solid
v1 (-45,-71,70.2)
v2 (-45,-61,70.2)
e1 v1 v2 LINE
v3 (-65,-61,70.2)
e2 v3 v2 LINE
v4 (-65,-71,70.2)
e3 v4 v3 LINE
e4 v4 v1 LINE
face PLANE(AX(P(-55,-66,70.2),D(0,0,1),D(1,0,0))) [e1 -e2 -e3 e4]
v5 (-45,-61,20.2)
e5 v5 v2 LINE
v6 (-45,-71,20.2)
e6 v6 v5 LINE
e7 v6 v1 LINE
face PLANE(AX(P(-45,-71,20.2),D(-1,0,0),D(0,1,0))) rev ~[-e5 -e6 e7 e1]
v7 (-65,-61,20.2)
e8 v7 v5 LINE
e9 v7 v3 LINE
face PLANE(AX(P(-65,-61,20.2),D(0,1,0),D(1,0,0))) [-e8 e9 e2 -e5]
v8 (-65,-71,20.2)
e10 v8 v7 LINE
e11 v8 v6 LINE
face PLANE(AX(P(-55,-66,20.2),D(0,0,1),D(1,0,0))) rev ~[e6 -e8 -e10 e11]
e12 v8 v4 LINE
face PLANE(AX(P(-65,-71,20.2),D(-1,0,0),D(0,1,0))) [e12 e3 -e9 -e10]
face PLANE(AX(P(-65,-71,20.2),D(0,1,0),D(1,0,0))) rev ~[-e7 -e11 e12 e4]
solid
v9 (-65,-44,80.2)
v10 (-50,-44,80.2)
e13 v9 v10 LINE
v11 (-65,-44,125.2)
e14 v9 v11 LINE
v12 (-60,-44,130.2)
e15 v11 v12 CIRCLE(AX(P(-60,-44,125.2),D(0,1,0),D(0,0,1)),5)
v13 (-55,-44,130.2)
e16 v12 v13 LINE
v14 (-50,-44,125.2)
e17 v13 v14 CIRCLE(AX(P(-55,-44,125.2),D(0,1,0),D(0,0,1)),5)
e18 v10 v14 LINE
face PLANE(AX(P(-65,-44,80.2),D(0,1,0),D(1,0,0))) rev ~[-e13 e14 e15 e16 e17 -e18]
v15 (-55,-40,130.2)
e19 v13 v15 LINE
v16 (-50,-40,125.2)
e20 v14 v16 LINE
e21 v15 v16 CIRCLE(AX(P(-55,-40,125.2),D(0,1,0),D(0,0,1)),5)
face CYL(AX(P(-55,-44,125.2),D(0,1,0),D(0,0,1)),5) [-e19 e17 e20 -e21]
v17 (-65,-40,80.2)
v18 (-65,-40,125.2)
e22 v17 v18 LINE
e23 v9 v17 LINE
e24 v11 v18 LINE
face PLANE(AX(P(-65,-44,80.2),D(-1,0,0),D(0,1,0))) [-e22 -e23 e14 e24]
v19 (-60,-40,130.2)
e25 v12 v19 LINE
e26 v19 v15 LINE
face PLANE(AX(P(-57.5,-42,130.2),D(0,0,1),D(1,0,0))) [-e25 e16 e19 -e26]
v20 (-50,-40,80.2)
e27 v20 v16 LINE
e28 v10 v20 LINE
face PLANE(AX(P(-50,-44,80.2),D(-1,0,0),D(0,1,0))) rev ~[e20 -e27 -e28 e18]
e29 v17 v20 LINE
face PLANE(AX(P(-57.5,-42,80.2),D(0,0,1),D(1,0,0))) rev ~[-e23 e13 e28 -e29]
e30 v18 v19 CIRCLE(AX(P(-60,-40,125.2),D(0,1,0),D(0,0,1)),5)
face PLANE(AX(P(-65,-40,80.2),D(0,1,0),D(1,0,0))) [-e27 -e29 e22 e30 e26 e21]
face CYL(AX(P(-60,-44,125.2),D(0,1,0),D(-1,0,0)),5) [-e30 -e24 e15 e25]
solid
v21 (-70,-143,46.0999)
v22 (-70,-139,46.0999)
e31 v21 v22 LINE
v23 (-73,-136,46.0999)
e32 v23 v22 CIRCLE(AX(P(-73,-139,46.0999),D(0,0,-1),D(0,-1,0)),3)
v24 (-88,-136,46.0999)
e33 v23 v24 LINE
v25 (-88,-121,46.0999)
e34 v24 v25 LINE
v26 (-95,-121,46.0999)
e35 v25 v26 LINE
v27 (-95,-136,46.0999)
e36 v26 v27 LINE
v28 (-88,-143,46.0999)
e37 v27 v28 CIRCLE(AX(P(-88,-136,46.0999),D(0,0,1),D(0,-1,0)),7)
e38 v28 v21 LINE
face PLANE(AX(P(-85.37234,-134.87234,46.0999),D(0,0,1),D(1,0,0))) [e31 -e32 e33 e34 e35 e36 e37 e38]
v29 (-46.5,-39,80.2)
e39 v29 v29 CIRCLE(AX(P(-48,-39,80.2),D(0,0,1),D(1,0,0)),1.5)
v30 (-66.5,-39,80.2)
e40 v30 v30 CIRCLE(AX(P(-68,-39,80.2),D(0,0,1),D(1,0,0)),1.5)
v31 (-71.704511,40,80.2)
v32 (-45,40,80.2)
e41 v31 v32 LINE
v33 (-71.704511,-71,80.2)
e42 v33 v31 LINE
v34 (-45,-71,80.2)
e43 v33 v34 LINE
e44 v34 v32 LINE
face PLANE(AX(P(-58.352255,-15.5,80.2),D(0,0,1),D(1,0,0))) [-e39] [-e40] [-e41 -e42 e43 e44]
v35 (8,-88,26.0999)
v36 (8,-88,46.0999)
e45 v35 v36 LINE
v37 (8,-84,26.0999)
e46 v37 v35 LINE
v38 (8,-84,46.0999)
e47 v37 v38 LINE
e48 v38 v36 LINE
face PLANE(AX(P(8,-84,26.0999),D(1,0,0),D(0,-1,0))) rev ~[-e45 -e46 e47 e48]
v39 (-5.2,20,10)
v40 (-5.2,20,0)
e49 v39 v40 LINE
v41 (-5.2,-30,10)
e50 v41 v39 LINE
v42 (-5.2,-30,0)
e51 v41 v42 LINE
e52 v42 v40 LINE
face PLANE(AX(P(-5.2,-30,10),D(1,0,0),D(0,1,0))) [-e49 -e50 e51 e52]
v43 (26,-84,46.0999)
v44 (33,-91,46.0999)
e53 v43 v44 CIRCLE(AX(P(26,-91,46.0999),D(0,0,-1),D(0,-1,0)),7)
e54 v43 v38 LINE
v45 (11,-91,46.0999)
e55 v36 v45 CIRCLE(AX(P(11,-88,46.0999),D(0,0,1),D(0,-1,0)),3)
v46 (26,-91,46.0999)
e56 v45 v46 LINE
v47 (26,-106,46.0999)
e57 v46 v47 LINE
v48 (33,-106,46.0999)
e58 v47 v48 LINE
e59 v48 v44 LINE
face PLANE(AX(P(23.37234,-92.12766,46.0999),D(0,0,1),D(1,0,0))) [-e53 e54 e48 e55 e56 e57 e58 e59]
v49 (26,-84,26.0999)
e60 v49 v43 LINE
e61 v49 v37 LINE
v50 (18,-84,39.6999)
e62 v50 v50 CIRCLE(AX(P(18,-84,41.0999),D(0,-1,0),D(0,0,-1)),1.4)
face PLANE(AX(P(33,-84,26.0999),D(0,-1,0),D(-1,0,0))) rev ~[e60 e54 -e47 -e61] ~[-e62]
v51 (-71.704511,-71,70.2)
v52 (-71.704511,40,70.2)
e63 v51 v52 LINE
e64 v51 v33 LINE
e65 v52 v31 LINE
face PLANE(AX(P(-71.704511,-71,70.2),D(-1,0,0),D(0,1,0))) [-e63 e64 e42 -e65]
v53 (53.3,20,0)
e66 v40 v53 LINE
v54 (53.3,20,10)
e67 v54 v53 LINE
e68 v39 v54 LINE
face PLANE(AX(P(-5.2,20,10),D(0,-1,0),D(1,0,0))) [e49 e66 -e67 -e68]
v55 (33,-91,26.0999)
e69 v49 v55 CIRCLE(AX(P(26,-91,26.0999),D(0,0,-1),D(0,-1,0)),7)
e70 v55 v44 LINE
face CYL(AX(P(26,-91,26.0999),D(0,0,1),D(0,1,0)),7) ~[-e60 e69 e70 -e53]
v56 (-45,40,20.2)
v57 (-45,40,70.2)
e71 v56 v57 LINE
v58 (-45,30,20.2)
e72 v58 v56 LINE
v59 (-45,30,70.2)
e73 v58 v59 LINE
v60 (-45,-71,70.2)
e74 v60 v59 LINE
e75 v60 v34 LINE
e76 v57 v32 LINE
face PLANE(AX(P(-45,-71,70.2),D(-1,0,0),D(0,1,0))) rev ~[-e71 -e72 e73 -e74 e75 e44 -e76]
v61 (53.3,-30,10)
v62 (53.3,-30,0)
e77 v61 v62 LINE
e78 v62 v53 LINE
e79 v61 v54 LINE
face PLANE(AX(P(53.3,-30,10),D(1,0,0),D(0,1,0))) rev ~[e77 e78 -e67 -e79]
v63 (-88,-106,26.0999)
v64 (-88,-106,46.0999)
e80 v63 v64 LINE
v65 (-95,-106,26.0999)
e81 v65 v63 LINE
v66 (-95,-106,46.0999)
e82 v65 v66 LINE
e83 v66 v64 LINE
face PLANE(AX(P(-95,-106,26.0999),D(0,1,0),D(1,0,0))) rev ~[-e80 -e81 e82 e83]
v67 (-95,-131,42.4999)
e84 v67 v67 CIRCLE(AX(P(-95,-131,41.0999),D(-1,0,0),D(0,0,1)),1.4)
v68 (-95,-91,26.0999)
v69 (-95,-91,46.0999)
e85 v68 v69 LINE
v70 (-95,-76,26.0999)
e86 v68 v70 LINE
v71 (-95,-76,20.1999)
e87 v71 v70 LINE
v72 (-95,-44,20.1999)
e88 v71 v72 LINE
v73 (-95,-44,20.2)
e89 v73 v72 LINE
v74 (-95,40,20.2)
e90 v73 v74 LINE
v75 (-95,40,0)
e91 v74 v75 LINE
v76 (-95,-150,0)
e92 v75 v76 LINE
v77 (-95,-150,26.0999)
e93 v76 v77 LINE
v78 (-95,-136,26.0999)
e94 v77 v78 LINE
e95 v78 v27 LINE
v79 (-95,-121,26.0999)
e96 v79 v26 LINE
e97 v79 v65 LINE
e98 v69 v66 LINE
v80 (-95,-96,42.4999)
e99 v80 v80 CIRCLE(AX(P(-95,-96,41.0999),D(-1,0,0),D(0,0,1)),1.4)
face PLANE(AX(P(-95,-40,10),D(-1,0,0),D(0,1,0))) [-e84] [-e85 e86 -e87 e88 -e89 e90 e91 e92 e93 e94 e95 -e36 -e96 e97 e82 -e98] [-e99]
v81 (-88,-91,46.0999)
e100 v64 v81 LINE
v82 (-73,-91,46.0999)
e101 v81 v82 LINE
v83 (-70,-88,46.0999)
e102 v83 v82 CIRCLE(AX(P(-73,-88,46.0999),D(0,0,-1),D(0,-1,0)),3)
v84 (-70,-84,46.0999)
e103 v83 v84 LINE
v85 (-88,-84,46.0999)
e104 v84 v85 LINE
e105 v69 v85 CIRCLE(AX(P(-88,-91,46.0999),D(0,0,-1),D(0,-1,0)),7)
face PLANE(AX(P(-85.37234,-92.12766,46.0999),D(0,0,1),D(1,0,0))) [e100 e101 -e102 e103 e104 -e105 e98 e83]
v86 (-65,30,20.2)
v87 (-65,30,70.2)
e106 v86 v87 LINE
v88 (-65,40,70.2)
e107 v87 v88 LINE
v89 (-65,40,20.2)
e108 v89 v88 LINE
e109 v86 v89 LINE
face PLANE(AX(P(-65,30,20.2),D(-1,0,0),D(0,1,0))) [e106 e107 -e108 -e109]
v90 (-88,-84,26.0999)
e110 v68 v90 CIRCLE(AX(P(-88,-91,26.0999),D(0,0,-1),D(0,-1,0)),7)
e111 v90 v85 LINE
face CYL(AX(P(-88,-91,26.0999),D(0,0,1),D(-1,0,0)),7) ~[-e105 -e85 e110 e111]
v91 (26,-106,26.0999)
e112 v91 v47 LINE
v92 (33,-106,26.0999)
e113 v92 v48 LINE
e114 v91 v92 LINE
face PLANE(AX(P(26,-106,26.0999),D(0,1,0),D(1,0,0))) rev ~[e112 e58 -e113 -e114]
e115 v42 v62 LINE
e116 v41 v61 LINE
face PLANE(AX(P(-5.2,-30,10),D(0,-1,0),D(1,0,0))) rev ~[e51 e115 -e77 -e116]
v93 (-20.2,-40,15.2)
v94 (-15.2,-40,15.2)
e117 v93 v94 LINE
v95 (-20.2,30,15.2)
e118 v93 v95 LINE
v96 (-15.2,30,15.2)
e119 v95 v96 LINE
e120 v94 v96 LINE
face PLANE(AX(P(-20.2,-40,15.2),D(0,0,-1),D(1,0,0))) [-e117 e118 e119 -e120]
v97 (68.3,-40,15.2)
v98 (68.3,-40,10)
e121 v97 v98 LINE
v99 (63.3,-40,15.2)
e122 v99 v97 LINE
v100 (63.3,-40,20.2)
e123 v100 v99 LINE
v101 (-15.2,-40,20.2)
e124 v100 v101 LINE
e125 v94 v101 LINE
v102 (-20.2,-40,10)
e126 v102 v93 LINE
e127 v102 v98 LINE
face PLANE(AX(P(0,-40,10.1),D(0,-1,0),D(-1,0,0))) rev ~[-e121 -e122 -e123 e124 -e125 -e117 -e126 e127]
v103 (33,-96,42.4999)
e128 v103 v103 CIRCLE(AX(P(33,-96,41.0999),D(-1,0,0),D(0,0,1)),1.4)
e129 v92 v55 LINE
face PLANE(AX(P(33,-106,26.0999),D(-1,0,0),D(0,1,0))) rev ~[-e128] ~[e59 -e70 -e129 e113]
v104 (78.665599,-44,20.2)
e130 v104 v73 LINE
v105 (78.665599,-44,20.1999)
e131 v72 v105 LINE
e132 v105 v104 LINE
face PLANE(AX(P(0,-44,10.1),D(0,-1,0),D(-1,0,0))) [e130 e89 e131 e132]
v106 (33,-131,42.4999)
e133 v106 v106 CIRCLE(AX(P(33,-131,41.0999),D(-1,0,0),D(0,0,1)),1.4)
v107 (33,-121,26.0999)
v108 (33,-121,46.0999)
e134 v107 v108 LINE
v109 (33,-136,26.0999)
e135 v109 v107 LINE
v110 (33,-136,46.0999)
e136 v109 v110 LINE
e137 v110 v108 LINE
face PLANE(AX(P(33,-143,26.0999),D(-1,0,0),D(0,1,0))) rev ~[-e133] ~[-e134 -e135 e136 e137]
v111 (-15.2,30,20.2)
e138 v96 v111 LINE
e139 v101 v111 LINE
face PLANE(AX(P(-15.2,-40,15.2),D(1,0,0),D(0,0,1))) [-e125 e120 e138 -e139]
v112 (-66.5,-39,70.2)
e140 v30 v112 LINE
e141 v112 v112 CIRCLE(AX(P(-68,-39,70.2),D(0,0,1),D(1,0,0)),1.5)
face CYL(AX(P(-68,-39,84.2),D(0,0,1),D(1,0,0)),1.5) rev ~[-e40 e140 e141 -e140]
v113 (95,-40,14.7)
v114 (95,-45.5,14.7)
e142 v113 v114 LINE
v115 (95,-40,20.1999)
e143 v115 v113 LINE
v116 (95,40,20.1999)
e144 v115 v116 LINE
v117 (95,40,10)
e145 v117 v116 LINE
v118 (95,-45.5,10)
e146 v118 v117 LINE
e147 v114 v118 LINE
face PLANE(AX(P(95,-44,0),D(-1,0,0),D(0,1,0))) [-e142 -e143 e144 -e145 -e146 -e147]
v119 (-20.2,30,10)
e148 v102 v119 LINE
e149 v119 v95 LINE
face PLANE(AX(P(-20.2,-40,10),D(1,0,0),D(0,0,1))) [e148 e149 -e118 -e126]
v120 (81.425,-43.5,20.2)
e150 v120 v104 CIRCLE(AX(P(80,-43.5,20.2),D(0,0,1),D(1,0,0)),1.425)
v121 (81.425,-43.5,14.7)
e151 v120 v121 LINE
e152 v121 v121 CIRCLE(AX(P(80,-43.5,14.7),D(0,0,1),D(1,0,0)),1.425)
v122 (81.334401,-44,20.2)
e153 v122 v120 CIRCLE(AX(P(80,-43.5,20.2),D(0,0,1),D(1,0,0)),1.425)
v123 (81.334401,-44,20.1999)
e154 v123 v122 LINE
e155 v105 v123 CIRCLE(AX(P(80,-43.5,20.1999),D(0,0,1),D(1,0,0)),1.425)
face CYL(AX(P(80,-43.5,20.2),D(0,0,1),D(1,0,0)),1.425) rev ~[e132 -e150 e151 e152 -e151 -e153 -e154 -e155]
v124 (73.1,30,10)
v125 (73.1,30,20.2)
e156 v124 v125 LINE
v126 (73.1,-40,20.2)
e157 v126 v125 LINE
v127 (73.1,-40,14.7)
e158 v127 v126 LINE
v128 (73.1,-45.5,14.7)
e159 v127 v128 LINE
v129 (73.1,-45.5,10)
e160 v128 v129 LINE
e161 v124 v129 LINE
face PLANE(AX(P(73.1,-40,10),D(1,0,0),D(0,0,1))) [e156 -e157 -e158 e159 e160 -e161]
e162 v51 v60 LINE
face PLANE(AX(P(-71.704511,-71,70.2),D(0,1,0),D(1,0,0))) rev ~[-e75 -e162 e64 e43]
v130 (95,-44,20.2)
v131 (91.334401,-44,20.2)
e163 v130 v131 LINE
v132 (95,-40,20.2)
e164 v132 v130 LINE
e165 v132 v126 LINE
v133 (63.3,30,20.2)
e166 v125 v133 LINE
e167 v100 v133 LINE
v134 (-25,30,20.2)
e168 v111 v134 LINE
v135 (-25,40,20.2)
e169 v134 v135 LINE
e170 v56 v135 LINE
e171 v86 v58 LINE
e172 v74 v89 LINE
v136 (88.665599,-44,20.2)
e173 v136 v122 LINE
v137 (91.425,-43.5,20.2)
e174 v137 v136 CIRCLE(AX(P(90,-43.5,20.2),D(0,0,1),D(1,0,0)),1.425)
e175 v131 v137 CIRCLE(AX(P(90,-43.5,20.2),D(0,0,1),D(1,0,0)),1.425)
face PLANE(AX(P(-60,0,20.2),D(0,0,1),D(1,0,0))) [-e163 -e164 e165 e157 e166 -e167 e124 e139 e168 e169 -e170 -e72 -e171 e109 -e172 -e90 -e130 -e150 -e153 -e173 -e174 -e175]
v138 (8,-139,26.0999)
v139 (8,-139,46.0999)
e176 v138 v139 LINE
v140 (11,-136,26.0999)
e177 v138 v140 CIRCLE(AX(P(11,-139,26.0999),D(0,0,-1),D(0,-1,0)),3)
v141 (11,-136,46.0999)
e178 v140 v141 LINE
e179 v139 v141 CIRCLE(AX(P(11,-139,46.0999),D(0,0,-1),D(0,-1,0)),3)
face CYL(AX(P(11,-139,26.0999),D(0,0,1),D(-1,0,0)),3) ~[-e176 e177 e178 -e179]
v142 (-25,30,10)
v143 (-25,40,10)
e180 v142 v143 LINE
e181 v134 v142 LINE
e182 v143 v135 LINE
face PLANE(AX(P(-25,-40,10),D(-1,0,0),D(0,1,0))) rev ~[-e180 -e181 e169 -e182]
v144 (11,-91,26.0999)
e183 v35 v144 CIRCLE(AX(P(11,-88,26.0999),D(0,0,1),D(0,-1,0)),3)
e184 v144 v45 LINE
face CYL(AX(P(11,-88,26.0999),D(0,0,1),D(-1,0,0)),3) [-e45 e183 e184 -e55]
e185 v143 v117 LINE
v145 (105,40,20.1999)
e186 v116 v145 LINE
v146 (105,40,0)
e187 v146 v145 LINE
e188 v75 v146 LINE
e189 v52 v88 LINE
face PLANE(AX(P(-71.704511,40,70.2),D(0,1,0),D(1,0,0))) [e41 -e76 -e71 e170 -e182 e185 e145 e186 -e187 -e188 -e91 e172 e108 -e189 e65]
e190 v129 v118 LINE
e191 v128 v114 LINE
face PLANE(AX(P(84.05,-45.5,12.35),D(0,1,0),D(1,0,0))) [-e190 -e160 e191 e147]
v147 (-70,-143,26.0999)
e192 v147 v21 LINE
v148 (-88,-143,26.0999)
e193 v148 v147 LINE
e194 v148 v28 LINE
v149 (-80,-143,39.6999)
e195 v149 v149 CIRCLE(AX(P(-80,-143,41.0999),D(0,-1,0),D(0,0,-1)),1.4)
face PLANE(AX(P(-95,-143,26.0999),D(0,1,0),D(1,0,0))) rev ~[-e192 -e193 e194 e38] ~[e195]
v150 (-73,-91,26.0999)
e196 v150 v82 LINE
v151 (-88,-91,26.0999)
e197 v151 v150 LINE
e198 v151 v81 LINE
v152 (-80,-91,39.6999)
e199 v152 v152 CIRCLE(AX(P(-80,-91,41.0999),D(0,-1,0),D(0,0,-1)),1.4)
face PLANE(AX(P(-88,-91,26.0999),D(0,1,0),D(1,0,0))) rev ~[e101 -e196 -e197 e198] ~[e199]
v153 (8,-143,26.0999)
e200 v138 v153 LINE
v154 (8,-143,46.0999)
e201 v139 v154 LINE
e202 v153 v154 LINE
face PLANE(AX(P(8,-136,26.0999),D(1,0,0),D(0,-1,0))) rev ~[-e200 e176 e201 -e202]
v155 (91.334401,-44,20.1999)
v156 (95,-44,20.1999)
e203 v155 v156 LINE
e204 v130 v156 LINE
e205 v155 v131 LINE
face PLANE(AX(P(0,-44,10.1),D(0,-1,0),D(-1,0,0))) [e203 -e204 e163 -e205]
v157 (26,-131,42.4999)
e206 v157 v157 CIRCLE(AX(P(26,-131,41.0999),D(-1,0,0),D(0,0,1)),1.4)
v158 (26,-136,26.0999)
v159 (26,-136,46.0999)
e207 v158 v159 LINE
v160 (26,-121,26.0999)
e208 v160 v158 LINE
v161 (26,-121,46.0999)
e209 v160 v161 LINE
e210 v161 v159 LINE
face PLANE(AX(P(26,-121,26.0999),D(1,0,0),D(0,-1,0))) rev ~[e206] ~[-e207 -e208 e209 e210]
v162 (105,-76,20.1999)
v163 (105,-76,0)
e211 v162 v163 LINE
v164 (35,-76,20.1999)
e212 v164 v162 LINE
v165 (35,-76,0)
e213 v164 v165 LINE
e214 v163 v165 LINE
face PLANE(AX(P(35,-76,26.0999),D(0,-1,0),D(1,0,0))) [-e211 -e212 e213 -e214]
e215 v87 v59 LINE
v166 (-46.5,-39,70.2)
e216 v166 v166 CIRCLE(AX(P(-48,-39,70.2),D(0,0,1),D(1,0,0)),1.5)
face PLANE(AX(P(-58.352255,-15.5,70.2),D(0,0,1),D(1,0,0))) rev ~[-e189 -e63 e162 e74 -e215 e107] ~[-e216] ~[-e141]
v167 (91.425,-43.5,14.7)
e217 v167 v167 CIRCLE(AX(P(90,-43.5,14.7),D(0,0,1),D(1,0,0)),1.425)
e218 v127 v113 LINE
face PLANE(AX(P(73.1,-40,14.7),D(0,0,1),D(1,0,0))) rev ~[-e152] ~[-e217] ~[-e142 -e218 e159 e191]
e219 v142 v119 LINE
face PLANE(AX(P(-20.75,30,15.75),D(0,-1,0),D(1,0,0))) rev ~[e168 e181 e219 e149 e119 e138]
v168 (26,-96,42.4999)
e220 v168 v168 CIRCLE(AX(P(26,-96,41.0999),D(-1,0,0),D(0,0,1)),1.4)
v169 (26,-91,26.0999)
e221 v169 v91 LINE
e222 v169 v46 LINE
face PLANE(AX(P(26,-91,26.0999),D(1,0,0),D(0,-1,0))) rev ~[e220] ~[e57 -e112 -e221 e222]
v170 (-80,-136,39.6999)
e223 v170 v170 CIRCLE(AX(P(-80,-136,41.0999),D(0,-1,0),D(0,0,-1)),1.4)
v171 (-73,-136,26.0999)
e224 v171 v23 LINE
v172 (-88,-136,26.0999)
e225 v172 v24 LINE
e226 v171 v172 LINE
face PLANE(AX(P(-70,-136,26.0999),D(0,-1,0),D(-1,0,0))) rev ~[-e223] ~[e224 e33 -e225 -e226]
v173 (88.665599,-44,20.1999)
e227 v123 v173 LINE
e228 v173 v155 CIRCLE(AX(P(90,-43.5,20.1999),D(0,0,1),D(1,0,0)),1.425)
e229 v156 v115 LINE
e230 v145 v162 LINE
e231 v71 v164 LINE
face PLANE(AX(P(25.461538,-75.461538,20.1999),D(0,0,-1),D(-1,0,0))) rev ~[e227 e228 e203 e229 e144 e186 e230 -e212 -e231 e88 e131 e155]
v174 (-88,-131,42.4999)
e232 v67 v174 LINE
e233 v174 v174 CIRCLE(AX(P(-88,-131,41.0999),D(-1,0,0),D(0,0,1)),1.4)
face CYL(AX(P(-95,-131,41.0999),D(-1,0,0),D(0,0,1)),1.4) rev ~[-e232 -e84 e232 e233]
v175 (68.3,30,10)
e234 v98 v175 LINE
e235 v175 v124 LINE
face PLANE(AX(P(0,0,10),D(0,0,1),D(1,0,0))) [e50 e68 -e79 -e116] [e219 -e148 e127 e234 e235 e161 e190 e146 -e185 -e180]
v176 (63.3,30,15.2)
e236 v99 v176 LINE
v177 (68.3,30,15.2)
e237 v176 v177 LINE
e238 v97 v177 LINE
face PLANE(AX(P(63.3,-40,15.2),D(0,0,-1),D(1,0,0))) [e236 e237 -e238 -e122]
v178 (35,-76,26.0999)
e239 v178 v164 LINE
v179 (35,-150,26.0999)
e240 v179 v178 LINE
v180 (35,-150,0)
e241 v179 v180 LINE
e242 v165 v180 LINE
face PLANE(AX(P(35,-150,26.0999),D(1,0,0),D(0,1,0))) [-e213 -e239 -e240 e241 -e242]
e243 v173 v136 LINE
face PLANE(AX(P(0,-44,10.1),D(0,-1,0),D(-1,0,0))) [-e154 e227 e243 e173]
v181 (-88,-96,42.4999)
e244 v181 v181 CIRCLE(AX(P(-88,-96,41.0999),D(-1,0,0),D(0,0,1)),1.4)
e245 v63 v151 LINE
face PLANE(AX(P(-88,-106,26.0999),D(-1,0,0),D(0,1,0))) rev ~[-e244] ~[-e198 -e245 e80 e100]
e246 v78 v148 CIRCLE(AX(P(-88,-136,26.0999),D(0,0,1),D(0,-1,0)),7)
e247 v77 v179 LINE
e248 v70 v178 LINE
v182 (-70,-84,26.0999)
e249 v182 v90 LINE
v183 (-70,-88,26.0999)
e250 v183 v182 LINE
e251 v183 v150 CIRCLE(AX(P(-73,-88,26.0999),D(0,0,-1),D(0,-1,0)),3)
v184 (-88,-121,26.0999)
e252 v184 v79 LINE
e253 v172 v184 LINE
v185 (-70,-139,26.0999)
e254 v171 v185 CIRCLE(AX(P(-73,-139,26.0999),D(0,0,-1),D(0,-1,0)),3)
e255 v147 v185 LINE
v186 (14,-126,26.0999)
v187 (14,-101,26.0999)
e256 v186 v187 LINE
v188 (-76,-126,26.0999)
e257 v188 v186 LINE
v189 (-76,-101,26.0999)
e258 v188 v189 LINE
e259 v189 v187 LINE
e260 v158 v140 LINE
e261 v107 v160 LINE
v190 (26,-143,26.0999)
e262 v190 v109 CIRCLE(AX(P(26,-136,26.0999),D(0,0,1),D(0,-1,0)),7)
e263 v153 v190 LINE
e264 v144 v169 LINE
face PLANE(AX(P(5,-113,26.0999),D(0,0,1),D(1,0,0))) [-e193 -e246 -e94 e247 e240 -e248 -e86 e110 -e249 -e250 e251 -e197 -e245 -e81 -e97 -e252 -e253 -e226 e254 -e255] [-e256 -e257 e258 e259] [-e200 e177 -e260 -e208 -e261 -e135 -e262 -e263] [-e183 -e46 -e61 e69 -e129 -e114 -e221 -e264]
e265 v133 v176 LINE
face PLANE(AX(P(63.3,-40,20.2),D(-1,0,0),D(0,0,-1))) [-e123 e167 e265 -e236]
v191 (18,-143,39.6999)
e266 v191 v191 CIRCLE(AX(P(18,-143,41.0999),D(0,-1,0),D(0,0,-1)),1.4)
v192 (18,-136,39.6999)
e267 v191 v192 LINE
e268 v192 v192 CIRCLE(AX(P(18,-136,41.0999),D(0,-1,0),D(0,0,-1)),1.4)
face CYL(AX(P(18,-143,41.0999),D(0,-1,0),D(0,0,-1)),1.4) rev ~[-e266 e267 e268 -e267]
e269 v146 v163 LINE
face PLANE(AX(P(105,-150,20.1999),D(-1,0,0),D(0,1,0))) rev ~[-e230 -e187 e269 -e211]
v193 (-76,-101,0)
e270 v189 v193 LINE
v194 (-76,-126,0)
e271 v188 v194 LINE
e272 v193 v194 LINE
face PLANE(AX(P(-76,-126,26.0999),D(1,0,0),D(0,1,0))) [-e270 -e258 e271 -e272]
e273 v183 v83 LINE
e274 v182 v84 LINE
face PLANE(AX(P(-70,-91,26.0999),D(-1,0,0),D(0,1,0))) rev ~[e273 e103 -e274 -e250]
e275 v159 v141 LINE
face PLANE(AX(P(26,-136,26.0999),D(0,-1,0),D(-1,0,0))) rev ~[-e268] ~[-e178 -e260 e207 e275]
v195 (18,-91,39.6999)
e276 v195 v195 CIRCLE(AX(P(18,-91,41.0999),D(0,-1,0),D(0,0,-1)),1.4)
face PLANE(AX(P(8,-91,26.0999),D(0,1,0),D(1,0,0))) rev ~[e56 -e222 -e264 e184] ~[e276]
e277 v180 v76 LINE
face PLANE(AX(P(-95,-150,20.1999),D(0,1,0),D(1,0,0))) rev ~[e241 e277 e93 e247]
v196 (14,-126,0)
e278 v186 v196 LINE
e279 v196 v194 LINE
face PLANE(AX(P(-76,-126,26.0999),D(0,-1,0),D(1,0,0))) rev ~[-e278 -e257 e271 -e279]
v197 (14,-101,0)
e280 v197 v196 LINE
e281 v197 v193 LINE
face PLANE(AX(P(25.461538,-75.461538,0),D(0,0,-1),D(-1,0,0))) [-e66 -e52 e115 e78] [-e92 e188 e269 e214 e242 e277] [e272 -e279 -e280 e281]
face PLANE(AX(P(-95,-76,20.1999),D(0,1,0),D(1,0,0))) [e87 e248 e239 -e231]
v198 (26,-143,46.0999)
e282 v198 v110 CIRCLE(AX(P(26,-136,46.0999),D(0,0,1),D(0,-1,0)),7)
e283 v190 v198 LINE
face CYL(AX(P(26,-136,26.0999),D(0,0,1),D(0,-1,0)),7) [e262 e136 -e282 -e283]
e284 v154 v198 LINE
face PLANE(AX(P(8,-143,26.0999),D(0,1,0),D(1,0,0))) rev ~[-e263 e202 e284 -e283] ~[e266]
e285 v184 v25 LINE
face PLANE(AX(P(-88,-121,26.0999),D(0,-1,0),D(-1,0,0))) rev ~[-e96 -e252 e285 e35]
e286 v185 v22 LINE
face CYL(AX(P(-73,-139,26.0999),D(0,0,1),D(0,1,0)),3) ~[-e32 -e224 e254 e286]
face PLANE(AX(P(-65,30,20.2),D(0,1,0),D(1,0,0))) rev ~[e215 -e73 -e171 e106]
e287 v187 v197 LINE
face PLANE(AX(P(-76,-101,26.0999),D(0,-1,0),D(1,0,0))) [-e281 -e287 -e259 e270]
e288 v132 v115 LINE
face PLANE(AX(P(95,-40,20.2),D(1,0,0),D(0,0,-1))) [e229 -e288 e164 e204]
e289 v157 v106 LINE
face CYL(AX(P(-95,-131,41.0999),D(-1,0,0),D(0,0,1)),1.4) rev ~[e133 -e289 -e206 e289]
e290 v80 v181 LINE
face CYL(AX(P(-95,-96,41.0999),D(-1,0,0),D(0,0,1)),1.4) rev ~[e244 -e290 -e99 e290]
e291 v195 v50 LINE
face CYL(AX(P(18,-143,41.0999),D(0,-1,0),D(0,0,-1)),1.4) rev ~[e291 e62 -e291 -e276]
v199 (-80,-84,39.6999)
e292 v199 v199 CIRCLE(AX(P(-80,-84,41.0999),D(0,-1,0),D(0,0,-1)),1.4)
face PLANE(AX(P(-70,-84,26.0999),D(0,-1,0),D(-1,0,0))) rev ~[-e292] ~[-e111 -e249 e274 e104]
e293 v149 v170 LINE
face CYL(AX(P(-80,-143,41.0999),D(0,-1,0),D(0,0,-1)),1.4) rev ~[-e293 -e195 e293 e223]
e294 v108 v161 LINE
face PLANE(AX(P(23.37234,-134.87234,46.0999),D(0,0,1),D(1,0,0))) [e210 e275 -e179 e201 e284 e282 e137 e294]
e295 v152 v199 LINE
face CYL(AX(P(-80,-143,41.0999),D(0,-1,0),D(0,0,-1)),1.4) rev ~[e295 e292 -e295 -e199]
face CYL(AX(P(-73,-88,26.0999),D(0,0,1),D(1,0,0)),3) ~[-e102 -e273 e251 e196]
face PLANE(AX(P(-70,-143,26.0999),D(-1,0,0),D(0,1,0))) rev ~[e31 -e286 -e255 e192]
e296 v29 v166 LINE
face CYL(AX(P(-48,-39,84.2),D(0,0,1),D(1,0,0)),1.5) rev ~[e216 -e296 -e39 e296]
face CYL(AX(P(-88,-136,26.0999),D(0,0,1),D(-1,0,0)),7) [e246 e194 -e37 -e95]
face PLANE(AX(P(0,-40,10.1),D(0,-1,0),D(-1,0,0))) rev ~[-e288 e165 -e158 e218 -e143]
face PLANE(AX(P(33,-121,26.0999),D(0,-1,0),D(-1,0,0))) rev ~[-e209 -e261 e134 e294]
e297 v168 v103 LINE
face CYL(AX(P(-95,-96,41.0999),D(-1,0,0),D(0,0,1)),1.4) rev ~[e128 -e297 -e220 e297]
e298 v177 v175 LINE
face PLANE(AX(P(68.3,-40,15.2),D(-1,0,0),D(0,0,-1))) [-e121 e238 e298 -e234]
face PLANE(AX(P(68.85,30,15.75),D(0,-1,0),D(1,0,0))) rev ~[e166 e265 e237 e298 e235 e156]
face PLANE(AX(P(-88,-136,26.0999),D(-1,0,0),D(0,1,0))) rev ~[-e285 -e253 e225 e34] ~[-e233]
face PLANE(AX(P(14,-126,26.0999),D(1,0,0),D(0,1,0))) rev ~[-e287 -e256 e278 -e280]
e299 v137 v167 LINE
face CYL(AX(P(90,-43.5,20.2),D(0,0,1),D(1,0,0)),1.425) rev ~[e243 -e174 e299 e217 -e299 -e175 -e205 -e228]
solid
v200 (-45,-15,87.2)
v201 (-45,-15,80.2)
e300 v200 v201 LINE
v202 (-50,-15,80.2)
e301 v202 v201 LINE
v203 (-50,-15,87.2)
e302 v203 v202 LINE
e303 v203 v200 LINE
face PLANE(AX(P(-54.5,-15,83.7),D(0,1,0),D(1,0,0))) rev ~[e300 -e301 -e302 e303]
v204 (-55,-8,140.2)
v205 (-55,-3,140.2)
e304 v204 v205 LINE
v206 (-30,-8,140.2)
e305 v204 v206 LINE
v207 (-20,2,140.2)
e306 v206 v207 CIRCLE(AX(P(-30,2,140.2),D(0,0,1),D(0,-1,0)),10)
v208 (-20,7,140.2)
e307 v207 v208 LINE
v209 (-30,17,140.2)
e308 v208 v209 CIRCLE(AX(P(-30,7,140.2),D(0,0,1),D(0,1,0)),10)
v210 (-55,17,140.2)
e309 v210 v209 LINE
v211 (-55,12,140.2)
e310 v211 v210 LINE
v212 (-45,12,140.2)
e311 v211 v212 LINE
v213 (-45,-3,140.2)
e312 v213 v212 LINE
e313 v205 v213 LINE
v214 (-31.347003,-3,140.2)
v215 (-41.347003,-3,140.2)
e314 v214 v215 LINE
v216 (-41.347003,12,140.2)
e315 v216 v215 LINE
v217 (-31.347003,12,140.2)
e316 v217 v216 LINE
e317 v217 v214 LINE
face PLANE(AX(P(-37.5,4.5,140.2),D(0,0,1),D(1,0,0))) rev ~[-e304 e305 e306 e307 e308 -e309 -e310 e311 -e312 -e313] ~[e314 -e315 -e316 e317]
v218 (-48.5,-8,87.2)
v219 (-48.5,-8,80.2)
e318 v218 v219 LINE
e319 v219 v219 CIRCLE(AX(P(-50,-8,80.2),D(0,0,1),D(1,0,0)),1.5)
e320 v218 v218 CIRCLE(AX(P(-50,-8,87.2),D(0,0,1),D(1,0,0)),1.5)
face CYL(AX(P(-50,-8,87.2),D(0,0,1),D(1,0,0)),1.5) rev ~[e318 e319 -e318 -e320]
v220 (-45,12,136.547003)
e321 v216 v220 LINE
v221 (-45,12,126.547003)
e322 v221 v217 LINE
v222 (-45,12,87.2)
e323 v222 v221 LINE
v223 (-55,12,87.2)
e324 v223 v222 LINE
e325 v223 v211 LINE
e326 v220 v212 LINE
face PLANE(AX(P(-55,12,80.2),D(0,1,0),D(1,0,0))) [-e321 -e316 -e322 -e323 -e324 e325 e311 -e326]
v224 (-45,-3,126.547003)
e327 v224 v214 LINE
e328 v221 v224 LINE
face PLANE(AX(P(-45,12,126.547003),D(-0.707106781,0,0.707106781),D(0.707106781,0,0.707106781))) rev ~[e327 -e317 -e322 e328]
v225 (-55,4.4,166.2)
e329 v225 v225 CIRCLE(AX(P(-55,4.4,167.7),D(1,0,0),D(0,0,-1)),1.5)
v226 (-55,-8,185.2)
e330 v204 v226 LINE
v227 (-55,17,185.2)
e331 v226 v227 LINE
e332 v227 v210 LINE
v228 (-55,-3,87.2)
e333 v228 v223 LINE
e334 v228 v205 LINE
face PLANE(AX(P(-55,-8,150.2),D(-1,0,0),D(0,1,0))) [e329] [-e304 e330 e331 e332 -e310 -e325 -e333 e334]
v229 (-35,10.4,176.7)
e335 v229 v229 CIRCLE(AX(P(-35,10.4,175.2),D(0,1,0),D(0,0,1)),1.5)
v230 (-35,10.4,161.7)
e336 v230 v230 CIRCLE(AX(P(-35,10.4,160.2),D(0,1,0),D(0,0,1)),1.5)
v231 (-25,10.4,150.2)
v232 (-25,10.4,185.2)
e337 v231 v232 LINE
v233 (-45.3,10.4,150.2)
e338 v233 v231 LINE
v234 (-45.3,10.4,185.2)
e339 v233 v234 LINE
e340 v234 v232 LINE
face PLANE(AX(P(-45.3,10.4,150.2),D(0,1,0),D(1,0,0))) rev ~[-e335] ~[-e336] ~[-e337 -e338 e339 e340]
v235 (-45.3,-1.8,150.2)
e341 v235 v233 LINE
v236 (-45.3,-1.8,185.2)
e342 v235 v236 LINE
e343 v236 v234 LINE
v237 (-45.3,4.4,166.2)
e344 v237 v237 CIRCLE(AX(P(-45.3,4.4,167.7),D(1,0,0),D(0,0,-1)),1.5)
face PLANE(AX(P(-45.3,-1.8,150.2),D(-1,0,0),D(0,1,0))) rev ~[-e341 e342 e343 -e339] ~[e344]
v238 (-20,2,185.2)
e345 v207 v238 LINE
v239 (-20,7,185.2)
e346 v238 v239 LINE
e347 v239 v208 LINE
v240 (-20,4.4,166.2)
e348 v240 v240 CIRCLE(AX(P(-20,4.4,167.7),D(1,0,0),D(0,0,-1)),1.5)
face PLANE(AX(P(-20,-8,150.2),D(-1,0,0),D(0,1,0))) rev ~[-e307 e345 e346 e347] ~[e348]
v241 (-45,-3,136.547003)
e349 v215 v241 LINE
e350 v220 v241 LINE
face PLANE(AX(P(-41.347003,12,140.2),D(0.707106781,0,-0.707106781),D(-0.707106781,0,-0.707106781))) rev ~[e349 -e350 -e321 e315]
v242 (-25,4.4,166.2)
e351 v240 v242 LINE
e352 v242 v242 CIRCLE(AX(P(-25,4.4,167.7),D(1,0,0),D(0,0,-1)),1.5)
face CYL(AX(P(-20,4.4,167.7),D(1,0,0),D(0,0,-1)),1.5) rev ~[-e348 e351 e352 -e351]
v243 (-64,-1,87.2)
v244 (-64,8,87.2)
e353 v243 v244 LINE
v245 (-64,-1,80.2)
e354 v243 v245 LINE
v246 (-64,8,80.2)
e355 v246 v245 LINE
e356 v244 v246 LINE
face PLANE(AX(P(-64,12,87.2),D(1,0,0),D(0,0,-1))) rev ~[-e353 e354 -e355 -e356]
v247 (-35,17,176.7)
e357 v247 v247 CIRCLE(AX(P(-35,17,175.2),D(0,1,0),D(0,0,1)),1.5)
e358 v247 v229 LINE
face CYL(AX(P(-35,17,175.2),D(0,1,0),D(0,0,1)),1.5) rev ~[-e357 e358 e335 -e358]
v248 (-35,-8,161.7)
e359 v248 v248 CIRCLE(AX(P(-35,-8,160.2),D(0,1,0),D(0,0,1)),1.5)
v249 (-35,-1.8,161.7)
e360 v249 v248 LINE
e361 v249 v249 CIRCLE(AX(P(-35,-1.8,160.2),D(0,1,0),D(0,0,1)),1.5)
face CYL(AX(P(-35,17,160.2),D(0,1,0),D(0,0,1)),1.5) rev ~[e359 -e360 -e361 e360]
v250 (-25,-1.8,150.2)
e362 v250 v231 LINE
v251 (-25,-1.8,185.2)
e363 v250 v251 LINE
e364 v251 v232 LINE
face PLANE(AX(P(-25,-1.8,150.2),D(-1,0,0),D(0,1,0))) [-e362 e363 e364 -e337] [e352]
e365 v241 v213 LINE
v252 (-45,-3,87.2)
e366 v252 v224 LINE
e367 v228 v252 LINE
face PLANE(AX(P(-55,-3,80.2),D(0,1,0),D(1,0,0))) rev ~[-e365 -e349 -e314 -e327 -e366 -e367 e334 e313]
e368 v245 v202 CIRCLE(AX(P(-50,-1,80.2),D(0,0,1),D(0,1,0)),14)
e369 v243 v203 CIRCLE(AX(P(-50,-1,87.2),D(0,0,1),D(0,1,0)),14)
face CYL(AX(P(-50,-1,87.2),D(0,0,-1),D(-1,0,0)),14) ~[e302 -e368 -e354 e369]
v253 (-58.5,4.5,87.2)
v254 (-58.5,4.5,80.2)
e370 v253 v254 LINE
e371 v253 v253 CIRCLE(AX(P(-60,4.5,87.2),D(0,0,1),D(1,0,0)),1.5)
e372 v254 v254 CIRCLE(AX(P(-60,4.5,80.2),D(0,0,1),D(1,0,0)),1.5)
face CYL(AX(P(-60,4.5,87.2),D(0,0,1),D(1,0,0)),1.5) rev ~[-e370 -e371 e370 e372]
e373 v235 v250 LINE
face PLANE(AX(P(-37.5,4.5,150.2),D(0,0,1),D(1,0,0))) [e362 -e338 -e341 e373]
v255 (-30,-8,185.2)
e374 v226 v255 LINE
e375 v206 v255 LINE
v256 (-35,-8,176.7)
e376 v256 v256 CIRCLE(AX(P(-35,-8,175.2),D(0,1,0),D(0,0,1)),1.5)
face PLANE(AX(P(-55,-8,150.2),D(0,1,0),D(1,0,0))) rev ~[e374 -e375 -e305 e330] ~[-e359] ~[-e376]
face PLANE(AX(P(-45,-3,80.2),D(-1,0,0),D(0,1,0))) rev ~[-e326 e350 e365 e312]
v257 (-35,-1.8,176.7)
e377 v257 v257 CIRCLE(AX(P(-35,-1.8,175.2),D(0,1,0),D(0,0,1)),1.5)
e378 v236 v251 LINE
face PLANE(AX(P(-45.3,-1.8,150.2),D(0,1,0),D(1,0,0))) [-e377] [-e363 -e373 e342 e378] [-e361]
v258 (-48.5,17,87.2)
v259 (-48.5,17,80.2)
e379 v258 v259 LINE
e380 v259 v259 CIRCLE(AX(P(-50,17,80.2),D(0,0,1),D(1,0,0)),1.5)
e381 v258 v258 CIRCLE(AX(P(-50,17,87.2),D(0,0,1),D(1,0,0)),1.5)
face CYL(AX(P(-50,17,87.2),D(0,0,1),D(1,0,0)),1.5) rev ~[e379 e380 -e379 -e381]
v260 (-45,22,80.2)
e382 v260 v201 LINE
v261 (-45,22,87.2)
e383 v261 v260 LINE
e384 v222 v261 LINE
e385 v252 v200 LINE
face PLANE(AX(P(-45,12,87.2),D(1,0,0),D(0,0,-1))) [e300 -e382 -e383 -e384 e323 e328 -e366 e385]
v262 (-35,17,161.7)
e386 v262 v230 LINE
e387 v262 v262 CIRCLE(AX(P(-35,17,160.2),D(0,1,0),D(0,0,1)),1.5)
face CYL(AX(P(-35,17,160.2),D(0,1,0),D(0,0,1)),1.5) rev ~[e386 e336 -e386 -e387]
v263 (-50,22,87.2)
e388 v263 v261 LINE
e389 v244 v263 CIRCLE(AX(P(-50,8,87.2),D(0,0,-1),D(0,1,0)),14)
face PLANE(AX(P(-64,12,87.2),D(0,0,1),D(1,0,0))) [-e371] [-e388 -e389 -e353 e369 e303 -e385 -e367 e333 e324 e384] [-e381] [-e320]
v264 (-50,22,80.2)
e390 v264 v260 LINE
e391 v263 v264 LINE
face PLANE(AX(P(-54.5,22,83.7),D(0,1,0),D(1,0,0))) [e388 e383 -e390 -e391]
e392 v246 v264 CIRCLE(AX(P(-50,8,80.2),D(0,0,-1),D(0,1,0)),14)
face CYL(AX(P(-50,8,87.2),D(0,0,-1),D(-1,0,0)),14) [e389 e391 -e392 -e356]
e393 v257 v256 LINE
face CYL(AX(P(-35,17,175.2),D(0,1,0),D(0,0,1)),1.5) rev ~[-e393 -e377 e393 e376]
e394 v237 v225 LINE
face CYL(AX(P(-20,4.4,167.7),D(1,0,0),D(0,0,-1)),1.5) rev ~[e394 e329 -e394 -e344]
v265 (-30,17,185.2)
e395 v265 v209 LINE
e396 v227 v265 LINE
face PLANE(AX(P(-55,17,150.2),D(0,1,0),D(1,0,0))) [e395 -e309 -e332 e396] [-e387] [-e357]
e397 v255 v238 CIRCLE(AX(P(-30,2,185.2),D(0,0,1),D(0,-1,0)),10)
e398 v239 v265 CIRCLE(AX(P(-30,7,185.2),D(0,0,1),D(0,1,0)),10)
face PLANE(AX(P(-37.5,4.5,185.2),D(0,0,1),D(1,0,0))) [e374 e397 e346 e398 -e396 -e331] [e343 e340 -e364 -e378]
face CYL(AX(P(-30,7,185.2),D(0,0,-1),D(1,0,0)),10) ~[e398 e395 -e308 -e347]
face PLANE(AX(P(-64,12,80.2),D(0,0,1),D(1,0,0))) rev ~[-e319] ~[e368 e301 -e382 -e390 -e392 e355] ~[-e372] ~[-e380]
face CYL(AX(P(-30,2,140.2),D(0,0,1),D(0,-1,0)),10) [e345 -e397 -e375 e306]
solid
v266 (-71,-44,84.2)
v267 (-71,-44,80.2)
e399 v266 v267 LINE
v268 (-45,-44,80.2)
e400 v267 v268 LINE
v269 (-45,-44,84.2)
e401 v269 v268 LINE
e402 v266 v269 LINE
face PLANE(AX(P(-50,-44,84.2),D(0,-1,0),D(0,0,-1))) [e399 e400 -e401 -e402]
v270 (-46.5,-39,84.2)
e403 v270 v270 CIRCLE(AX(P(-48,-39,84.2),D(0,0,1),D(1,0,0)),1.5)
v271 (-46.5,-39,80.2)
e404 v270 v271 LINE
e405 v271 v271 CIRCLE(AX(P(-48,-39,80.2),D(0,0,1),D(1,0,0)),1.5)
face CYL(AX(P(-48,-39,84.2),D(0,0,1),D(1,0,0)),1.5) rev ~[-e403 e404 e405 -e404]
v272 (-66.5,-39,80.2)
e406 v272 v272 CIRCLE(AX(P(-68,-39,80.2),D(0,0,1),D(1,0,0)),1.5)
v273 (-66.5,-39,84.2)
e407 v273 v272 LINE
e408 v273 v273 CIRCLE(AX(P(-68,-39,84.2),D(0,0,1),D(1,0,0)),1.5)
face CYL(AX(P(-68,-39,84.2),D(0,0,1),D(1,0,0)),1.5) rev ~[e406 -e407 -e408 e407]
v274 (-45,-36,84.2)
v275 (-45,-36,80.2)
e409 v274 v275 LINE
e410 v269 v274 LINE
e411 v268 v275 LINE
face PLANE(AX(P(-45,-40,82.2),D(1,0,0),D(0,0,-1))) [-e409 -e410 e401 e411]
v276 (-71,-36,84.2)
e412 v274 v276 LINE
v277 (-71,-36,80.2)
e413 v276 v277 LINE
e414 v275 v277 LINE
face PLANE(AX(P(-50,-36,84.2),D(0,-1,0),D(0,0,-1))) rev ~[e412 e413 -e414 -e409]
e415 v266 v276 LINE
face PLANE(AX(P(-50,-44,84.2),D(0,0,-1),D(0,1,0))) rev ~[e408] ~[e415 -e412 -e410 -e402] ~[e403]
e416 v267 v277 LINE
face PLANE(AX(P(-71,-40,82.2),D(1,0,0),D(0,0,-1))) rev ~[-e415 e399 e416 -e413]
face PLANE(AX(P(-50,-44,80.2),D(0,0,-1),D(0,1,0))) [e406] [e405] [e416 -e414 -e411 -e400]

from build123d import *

# Parameters (mm, degrees)
SKETCH1_W                 = 190
SKETCH1_H                 = 80
BOSS_EXTRUDE1_DEPTH       = 10
BOSS_EXTRUDE2_DEPTH       = 70
SKETCH3_W                 = 58.5
SKETCH3_H                 = 50
CUT_EXTRUDE1_DEPTH        = 10
SKETCH5_W                 = 190
SKETCH5_H                 = 20.2
BOSS_EXTRUDE3_DEPTH       = 4
BOSS_EXTRUDE5_DEPTH       = 20.1999
SKETCH7_W                 = 200
SKETCH7_H                 = 74
SKETCH7_W_2               = 0.268020534
SKETCH7_H_2               = 19.603817147
BOSS_EXTRUDE6_DEPTH       = 5.9
SKETCH21_W                = 21.9
SKETCH21_H                = 4.7
CUT_EXTRUDE7_DEPTH        = 5.5
SKETCH22_R                = 1.425
CUT_EXTRUDE8_DEPTH        = 5.5
SKETCH23_W                = 70
SKETCH23_H                = 80
BOSS_EXTRUDE8_DEPTH       = 10.2
SKETCH24_W                = 70
SKETCH24_H                = 74
CUT_EXTRUDE9_DEPTH        = 185.949195132
SKETCH25_W                = 20
SKETCH25_H                = 10
BOSS_EXTRUDE10_DEPTH      = 50
SKETCH26_W                = 26.704510521
SKETCH26_H                = 111
BOSS_EXTRUDE11_DEPTH      = 10
BOSS_EXTRUDE12_DEPTH      = 20
SKETCH30_R                = 1.4
CUT_EXTRUDE12_DEPTH       = 60
SKETCH31_R                = 1.4
CUT_EXTRUDE13_DEPTH       = 129
SKETCH32_W                = 90
SKETCH32_H                = 25
CUT_EXTRUDE14_DEPTH       = 129
FILLET1_R                 = 7
FILLET2_R                 = 7
FILLET3_R                 = 7
FILLET4_R                 = 7
FILLET5_R                 = 3
FILLET6_R                 = 3
FILLET7_R                 = 3
FILLET8_R                 = 3
SKETCH33_W                = 15
SKETCH33_H                = 4
BOSS_EXTRUDE13_DEPTH      = 50
SKETCH36_W                = 10
SKETCH36_H                = 15
BOSS_EXTRUDE15_DEPTH      = 60
SKETCH37_W                = 35
SKETCH37_H                = 25
BOSS_EXTRUDE16_DEPTH      = 10
SKETCH38_W                = 35
SKETCH38_H                = 25
SKETCH38_W_2              = 20.3
SKETCH38_H_2              = 12.2
BOSS_EXTRUDE17_DEPTH      = 35
SKETCH39_R                = 1.5
CUT_EXTRUDE15_DEPTH       = 30
SKETCH40_R                = 1.5
CUT_EXTRUDE16_DEPTH       = 49
BOSS_EXTRUDE18_DEPTH      = 15
SKETCH42_W                = 19
SKETCH42_H                = 7
BOSS_EXTRUDE19_DEPTH      = 10
BOSS_EXTRUDE19_DEPTH_BACK = 27
FILLET9_R                 = 14
FILLET10_R                = 14
SKETCH43_R                = 1.5
CUT_EXTRUDE17_DEPTH       = 30
SKETCH44_W                = 4
SKETCH44_H                = 8
BOSS_EXTRUDE20_DEPTH      = 5
BOSS_EXTRUDE20_DEPTH_BACK = 21
SKETCH45_R                = 1.5
CUT_EXTRUDE18_DEPTH       = 20
FILLET11_R                = 5
FILLET12_R                = 5
FILLET16_R                = 10
FILLET15_R                = 10


with BuildPart() as part:
    # Sketch1 → Boss-Extrude1 (new body)
    with BuildSketch(Plane.XY):
        Rectangle(SKETCH1_W, SKETCH1_H)
    extrude(amount=BOSS_EXTRUDE1_DEPTH)

    # Sketch2 → Boss-Extrude2 (add)
    with BuildSketch(Plane.XZ.offset(40)):
        Polygon((-25, 10), (-20.2, 10), (-20.2, 15.2), (-15.2, 15.2), (-15.2, 20.2), (-25, 20.2), align=None)
        Polygon((68.3, 10), (73.1, 10), (73.1, 20.2), (63.3, 20.2), (63.3, 15.2), (68.3, 15.2), align=None)
    extrude(amount=-BOSS_EXTRUDE2_DEPTH)

    # Sketch3 → Cut-Extrude1 (cut)
    with BuildSketch(Plane.XY.offset(10)):
        with Locations((24.05, -5)):
            Rectangle(SKETCH3_W, SKETCH3_H)
    extrude(amount=-CUT_EXTRUDE1_DEPTH, mode=Mode.SUBTRACT)

    # Sketch5 → Boss-Extrude3 (add)
    with BuildSketch(Plane(origin=(0, -40, 0), x_dir=(-1, 0, 0), z_dir=(0, -1, 0))):
        with Locations((0, -10.1)):
            Rectangle(SKETCH5_W, SKETCH5_H)
    extrude(amount=BOSS_EXTRUDE3_DEPTH)

    # Sketch6 → Boss-Extrude5 (add)
    with BuildSketch(Plane(origin=(0, 0, 0), x_dir=(-1, 0, 0), z_dir=(0, 0, -1))):
        Polygon((95, -150), (95, -44), (-95, -44), (-95, 40), (-105, 40), (-105, -150), align=None)
    extrude(amount=-BOSS_EXTRUDE5_DEPTH)

    # Sketch7 → Boss-Extrude6 (add)
    with BuildSketch(Plane.XY.offset(20.1999)):
        with Locations((5, -113)):
            Rectangle(SKETCH7_W, SKETCH7_H)
        with Locations((70.627340548, -99.185279167)):
            Rectangle(SKETCH7_W_2, SKETCH7_H_2, mode=Mode.SUBTRACT)
    extrude(amount=BOSS_EXTRUDE6_DEPTH)

    # Sketch21 → Cut-Extrude7 (cut)
    with BuildSketch(Plane(origin=(0, -40, 0), x_dir=(1, 0, 0), z_dir=(0, 1, 0))):
        with Locations((84.05, -12.35)):
            Rectangle(SKETCH21_W, SKETCH21_H)
    extrude(amount=-CUT_EXTRUDE7_DEPTH, mode=Mode.SUBTRACT)

    # Sketch22 → Cut-Extrude8 (cut)
    with BuildSketch(Plane.XY.offset(20.2)):
        with Locations((90, -43.5)):
            Circle(SKETCH22_R)
        with Locations((80, -43.5)):
            Circle(SKETCH22_R)
    extrude(amount=-CUT_EXTRUDE8_DEPTH, mode=Mode.SUBTRACT)

    # Sketch23 → Boss-Extrude8 (add)
    with BuildSketch(Plane.XY.offset(10)):
        with Locations((-60, 0)):
            Rectangle(SKETCH23_W, SKETCH23_H)
    extrude(amount=BOSS_EXTRUDE8_DEPTH)

    # Sketch24 → Cut-Extrude9 (cut, through all)
    with BuildSketch(Plane.XY.offset(26.0999)):
        with Locations((70, -113)):
            Rectangle(SKETCH24_W, SKETCH24_H)
    extrude(amount=-CUT_EXTRUDE9_DEPTH, mode=Mode.SUBTRACT)

    # Sketch25 → Boss-Extrude10 (add)
    with BuildSketch(Plane.XY.offset(20.2)):
        with Locations((-55, 35)):
            Rectangle(SKETCH25_W, SKETCH25_H)
        with Locations((-55, -66)):
            Rectangle(SKETCH25_W, SKETCH25_H)
    extrude(amount=BOSS_EXTRUDE10_DEPTH)


with BuildPart() as boss_extrude10_piece_1:
    # of the separate pieces the step leaves, piece 1, a body of its own (boss_extrude10_pieces)
    add(part.part.solids().sort_by_distance((-95, 40, 20.2))[0])

    # Sketch26 → Boss-Extrude11 (add)
    with BuildSketch(Plane.XY.offset(70.2)):
        with Locations((-58.352255261, -15.5)):
            Rectangle(SKETCH26_W, SKETCH26_H)
    extrude(amount=BOSS_EXTRUDE11_DEPTH)

    # Sketch29 → Boss-Extrude12 (add)
    with BuildSketch(Plane.XY.offset(26.0999)):
        Polygon((-70, -91), (-70, -84), (-95, -84), (-95, -106), (-88, -106), (-88, -91), align=None)
        Polygon((33, -84), (8, -84), (8, -91), (26, -91), (26, -106), (33, -106), align=None)
        Polygon((33, -121), (26, -121), (26, -136), (8, -136), (8, -143), (33, -143), align=None)
        Polygon((-88, -136), (-88, -121), (-95, -121), (-95, -143), (-70, -143), (-70, -136), align=None)
    extrude(amount=BOSS_EXTRUDE12_DEPTH)

    # Sketch30 → Cut-Extrude12 (cut)
    with BuildSketch(Plane.XZ.offset(143)):
        with Locations(Location((18, 41.0999, 0), (0, 0, 270))):
            Circle(SKETCH30_R)
        with Locations(Location((-80, 41.0999, 0), (0, 0, 270))):
            Circle(SKETCH30_R)
    extrude(amount=-CUT_EXTRUDE12_DEPTH, mode=Mode.SUBTRACT)

    # Sketch31 → Cut-Extrude13 (cut)
    with BuildSketch(Plane.ZY.offset(95)):
        with Locations((41.0999, -96)):
            Circle(SKETCH31_R)
        with Locations((41.0999, -131)):
            Circle(SKETCH31_R)
    extrude(amount=-CUT_EXTRUDE13_DEPTH, mode=Mode.SUBTRACT)

    # Sketch32 → Cut-Extrude14 (cut)
    with BuildSketch(Plane.XY.offset(26.0999)):
        with Locations((-31, -113.5)):
            Rectangle(SKETCH32_W, SKETCH32_H)
    extrude(amount=-CUT_EXTRUDE14_DEPTH, mode=Mode.SUBTRACT)

    # Fillet1
    fillet1_edges = [boss_extrude10_piece_1.edges().sort_by_distance(p)[0] for p in [
        (-95, -143, 36.0999),
    ]]
    fillet(fillet1_edges, radius=FILLET1_R)

    # Fillet2
    fillet2_edges = [boss_extrude10_piece_1.edges().sort_by_distance(p)[0] for p in [
        (-95, -84, 36.0999),
    ]]
    fillet(fillet2_edges, radius=FILLET2_R)

    # Fillet3
    fillet3_edges = [boss_extrude10_piece_1.edges().sort_by_distance(p)[0] for p in [
        (33, -143, 36.0999),
    ]]
    fillet(fillet3_edges, radius=FILLET3_R)

    # Fillet4
    fillet4_edges = [boss_extrude10_piece_1.edges().sort_by_distance(p)[0] for p in [
        (33, -84, 36.0999),
    ]]
    fillet(fillet4_edges, radius=FILLET4_R)

    # Fillet5
    fillet5_edges = [boss_extrude10_piece_1.edges().sort_by_distance(p)[0] for p in [
        (-70, -91, 36.0999),
    ]]
    fillet(fillet5_edges, radius=FILLET5_R)

    # Fillet6
    fillet6_edges = [boss_extrude10_piece_1.edges().sort_by_distance(p)[0] for p in [
        (-70, -136, 36.0999),
    ]]
    fillet(fillet6_edges, radius=FILLET6_R)

    # Fillet7
    fillet7_edges = [boss_extrude10_piece_1.edges().sort_by_distance(p)[0] for p in [
        (8, -91, 36.0999),
    ]]
    fillet(fillet7_edges, radius=FILLET7_R)

    # Fillet8
    fillet8_edges = [boss_extrude10_piece_1.edges().sort_by_distance(p)[0] for p in [
        (8, -136, 36.0999),
    ]]
    fillet(fillet8_edges, radius=FILLET8_R)


with BuildPart() as boss_extrude10_piece_2:
    # of the separate pieces the step leaves, piece 2, a body of its own (boss_extrude10_pieces)
    add(part.part.solids().sort_by_distance((-45, -71, 20.2))[0])


with BuildPart() as body_3:
    # Sketch33 → Boss-Extrude13 (new body)
    with BuildSketch(Plane.XY.offset(80.2)):
        with Locations((-57.5, -42)):
            Rectangle(SKETCH33_W, SKETCH33_H)
    extrude(amount=BOSS_EXTRUDE13_DEPTH)

    # Fillet11
    fillet11_edges = [body_3.edges().sort_by_distance(p)[0] for p in [
        (-65, -42, 130.2),
    ]]
    fillet(fillet11_edges, radius=FILLET11_R)

    # Fillet12
    fillet12_edges = [body_3.edges().sort_by_distance(p)[0] for p in [
        (-50, -42, 130.2),
    ]]
    fillet(fillet12_edges, radius=FILLET12_R)


with BuildPart() as body_4:
    # Sketch36 → Boss-Extrude15 (new body)
    with BuildSketch(Plane.XY.offset(80.2)):
        with Locations((-50, 4.5)):
            Rectangle(SKETCH36_W, SKETCH36_H)
    extrude(amount=BOSS_EXTRUDE15_DEPTH)

    # Sketch37 → Boss-Extrude16 (add)
    with BuildSketch(Plane.XY.offset(140.2)):
        with Locations((-37.5, 4.5)):
            Rectangle(SKETCH37_W, SKETCH37_H)
    extrude(amount=BOSS_EXTRUDE16_DEPTH)

    # Sketch38 → Boss-Extrude17 (add)
    with BuildSketch(Plane.XY.offset(150.2)):
        with Locations((-37.5, 4.5)):
            Rectangle(SKETCH38_W, SKETCH38_H)
        with Locations((-35.15, 4.3)):
            Rectangle(SKETCH38_W_2, SKETCH38_H_2, mode=Mode.SUBTRACT)
    extrude(amount=BOSS_EXTRUDE17_DEPTH)

    # Sketch39 → Cut-Extrude15 (cut)
    with BuildSketch(Plane(origin=(0, 17, 0), x_dir=(1, 0, 0), z_dir=(0, 1, 0))):
        with Locations(Location((-35, -160.2, 0), (0, 0, 270))):
            Circle(SKETCH39_R)
        with Locations(Location((-35, -175.2, 0), (0, 0, 270))):
            Circle(SKETCH39_R)
    extrude(amount=-CUT_EXTRUDE15_DEPTH, mode=Mode.SUBTRACT)

    # Sketch40 → Cut-Extrude16 (cut)
    with BuildSketch(Plane(origin=(-20, 0, 0), x_dir=(0, 0, -1), z_dir=(1, 0, 0))):
        with Locations((-167.7, 4.4)):
            Circle(SKETCH40_R)
    extrude(amount=-CUT_EXTRUDE16_DEPTH, mode=Mode.SUBTRACT)

    # Sketch41 → Boss-Extrude18 (add)
    with BuildSketch(Plane(origin=(0, 12, 0), x_dir=(1, 0, 0), z_dir=(0, 1, 0))):
        Polygon((-45, -136.547003295), (-45, -126.547003295), (-31.347003295, -140.2), (-41.347003295, -140.2), align=None)
    extrude(amount=-BOSS_EXTRUDE18_DEPTH)

    # Sketch42 → Boss-Extrude19 (add, two sides)
    with BuildSketch(Plane(origin=(0, 12, 0), x_dir=(1, 0, 0), z_dir=(0, 1, 0))) as boss_extrude19_sk:
        with Locations((-54.5, -83.7)):
            Rectangle(SKETCH42_W, SKETCH42_H)
    extrude(amount=BOSS_EXTRUDE19_DEPTH)
    extrude(boss_extrude19_sk.sketch, amount=-BOSS_EXTRUDE19_DEPTH_BACK)

    # Fillet9
    fillet9_edges = [body_4.edges().sort_by_distance(p)[0] for p in [
        (-64, 22, 83.7),
    ]]
    fillet(fillet9_edges, radius=FILLET9_R)

    # Fillet10
    fillet10_edges = [body_4.edges().sort_by_distance(p)[0] for p in [
        (-64, -15, 83.7),
    ]]
    fillet(fillet10_edges, radius=FILLET10_R)

    # Sketch43 → Cut-Extrude17 (cut)
    with BuildSketch(Plane.XY.offset(87.2)):
        with Locations((-50, 17)):
            Circle(SKETCH43_R)
        with Locations((-50, -8)):
            Circle(SKETCH43_R)
        with Locations((-60, 4.5)):
            Circle(SKETCH43_R)
    extrude(amount=-CUT_EXTRUDE17_DEPTH, mode=Mode.SUBTRACT)

    # Fillet16
    fillet16_edges = [body_4.edges().sort_by_distance(p)[0] for p in [
        (-20, -8, 162.7),
    ]]
    fillet(fillet16_edges, radius=FILLET16_R)

    # Fillet15
    fillet15_edges = [body_4.edges().sort_by_distance(p)[0] for p in [
        (-20, 17, 162.7),
    ]]
    fillet(fillet15_edges, radius=FILLET15_R)


with BuildPart() as body_5:
    # Sketch44 → Boss-Extrude20 (new, two sides)
    with BuildSketch(Plane(origin=(-50, 0, 0), x_dir=(0, 0, -1), z_dir=(1, 0, 0))) as boss_extrude20_sk:
        with Locations((-82.2, -40)):
            Rectangle(SKETCH44_W, SKETCH44_H)
    extrude(amount=BOSS_EXTRUDE20_DEPTH)
    extrude(boss_extrude20_sk.sketch, amount=-BOSS_EXTRUDE20_DEPTH_BACK)


with BuildPart() as cut_extrude18_tool:
    # Sketch45 → Cut-Extrude18 (new body)
    with BuildSketch(Plane.XY.offset(84.2)):
        with Locations((-48, -39)):
            Circle(SKETCH45_R)
        with Locations((-68, -39)):
            Circle(SKETCH45_R)
    extrude(amount=-CUT_EXTRUDE18_DEPTH)


with BuildPart() as boss_extrude10_piece_1_1:
    add(boss_extrude10_piece_1.part)

    # Cut-Extrude18: cut by cut_extrude18_tool
    add(cut_extrude18_tool.part, mode=Mode.SUBTRACT)


with BuildPart() as body_5_1:
    add(body_5.part)

    # Cut-Extrude18: cut by cut_extrude18_tool
    add(cut_extrude18_tool.part, mode=Mode.SUBTRACT)


solid = Compound([boss_extrude10_piece_2.part, body_3.part, body_4.part, boss_extrude10_piece_1_1.part, body_5_1.part])
